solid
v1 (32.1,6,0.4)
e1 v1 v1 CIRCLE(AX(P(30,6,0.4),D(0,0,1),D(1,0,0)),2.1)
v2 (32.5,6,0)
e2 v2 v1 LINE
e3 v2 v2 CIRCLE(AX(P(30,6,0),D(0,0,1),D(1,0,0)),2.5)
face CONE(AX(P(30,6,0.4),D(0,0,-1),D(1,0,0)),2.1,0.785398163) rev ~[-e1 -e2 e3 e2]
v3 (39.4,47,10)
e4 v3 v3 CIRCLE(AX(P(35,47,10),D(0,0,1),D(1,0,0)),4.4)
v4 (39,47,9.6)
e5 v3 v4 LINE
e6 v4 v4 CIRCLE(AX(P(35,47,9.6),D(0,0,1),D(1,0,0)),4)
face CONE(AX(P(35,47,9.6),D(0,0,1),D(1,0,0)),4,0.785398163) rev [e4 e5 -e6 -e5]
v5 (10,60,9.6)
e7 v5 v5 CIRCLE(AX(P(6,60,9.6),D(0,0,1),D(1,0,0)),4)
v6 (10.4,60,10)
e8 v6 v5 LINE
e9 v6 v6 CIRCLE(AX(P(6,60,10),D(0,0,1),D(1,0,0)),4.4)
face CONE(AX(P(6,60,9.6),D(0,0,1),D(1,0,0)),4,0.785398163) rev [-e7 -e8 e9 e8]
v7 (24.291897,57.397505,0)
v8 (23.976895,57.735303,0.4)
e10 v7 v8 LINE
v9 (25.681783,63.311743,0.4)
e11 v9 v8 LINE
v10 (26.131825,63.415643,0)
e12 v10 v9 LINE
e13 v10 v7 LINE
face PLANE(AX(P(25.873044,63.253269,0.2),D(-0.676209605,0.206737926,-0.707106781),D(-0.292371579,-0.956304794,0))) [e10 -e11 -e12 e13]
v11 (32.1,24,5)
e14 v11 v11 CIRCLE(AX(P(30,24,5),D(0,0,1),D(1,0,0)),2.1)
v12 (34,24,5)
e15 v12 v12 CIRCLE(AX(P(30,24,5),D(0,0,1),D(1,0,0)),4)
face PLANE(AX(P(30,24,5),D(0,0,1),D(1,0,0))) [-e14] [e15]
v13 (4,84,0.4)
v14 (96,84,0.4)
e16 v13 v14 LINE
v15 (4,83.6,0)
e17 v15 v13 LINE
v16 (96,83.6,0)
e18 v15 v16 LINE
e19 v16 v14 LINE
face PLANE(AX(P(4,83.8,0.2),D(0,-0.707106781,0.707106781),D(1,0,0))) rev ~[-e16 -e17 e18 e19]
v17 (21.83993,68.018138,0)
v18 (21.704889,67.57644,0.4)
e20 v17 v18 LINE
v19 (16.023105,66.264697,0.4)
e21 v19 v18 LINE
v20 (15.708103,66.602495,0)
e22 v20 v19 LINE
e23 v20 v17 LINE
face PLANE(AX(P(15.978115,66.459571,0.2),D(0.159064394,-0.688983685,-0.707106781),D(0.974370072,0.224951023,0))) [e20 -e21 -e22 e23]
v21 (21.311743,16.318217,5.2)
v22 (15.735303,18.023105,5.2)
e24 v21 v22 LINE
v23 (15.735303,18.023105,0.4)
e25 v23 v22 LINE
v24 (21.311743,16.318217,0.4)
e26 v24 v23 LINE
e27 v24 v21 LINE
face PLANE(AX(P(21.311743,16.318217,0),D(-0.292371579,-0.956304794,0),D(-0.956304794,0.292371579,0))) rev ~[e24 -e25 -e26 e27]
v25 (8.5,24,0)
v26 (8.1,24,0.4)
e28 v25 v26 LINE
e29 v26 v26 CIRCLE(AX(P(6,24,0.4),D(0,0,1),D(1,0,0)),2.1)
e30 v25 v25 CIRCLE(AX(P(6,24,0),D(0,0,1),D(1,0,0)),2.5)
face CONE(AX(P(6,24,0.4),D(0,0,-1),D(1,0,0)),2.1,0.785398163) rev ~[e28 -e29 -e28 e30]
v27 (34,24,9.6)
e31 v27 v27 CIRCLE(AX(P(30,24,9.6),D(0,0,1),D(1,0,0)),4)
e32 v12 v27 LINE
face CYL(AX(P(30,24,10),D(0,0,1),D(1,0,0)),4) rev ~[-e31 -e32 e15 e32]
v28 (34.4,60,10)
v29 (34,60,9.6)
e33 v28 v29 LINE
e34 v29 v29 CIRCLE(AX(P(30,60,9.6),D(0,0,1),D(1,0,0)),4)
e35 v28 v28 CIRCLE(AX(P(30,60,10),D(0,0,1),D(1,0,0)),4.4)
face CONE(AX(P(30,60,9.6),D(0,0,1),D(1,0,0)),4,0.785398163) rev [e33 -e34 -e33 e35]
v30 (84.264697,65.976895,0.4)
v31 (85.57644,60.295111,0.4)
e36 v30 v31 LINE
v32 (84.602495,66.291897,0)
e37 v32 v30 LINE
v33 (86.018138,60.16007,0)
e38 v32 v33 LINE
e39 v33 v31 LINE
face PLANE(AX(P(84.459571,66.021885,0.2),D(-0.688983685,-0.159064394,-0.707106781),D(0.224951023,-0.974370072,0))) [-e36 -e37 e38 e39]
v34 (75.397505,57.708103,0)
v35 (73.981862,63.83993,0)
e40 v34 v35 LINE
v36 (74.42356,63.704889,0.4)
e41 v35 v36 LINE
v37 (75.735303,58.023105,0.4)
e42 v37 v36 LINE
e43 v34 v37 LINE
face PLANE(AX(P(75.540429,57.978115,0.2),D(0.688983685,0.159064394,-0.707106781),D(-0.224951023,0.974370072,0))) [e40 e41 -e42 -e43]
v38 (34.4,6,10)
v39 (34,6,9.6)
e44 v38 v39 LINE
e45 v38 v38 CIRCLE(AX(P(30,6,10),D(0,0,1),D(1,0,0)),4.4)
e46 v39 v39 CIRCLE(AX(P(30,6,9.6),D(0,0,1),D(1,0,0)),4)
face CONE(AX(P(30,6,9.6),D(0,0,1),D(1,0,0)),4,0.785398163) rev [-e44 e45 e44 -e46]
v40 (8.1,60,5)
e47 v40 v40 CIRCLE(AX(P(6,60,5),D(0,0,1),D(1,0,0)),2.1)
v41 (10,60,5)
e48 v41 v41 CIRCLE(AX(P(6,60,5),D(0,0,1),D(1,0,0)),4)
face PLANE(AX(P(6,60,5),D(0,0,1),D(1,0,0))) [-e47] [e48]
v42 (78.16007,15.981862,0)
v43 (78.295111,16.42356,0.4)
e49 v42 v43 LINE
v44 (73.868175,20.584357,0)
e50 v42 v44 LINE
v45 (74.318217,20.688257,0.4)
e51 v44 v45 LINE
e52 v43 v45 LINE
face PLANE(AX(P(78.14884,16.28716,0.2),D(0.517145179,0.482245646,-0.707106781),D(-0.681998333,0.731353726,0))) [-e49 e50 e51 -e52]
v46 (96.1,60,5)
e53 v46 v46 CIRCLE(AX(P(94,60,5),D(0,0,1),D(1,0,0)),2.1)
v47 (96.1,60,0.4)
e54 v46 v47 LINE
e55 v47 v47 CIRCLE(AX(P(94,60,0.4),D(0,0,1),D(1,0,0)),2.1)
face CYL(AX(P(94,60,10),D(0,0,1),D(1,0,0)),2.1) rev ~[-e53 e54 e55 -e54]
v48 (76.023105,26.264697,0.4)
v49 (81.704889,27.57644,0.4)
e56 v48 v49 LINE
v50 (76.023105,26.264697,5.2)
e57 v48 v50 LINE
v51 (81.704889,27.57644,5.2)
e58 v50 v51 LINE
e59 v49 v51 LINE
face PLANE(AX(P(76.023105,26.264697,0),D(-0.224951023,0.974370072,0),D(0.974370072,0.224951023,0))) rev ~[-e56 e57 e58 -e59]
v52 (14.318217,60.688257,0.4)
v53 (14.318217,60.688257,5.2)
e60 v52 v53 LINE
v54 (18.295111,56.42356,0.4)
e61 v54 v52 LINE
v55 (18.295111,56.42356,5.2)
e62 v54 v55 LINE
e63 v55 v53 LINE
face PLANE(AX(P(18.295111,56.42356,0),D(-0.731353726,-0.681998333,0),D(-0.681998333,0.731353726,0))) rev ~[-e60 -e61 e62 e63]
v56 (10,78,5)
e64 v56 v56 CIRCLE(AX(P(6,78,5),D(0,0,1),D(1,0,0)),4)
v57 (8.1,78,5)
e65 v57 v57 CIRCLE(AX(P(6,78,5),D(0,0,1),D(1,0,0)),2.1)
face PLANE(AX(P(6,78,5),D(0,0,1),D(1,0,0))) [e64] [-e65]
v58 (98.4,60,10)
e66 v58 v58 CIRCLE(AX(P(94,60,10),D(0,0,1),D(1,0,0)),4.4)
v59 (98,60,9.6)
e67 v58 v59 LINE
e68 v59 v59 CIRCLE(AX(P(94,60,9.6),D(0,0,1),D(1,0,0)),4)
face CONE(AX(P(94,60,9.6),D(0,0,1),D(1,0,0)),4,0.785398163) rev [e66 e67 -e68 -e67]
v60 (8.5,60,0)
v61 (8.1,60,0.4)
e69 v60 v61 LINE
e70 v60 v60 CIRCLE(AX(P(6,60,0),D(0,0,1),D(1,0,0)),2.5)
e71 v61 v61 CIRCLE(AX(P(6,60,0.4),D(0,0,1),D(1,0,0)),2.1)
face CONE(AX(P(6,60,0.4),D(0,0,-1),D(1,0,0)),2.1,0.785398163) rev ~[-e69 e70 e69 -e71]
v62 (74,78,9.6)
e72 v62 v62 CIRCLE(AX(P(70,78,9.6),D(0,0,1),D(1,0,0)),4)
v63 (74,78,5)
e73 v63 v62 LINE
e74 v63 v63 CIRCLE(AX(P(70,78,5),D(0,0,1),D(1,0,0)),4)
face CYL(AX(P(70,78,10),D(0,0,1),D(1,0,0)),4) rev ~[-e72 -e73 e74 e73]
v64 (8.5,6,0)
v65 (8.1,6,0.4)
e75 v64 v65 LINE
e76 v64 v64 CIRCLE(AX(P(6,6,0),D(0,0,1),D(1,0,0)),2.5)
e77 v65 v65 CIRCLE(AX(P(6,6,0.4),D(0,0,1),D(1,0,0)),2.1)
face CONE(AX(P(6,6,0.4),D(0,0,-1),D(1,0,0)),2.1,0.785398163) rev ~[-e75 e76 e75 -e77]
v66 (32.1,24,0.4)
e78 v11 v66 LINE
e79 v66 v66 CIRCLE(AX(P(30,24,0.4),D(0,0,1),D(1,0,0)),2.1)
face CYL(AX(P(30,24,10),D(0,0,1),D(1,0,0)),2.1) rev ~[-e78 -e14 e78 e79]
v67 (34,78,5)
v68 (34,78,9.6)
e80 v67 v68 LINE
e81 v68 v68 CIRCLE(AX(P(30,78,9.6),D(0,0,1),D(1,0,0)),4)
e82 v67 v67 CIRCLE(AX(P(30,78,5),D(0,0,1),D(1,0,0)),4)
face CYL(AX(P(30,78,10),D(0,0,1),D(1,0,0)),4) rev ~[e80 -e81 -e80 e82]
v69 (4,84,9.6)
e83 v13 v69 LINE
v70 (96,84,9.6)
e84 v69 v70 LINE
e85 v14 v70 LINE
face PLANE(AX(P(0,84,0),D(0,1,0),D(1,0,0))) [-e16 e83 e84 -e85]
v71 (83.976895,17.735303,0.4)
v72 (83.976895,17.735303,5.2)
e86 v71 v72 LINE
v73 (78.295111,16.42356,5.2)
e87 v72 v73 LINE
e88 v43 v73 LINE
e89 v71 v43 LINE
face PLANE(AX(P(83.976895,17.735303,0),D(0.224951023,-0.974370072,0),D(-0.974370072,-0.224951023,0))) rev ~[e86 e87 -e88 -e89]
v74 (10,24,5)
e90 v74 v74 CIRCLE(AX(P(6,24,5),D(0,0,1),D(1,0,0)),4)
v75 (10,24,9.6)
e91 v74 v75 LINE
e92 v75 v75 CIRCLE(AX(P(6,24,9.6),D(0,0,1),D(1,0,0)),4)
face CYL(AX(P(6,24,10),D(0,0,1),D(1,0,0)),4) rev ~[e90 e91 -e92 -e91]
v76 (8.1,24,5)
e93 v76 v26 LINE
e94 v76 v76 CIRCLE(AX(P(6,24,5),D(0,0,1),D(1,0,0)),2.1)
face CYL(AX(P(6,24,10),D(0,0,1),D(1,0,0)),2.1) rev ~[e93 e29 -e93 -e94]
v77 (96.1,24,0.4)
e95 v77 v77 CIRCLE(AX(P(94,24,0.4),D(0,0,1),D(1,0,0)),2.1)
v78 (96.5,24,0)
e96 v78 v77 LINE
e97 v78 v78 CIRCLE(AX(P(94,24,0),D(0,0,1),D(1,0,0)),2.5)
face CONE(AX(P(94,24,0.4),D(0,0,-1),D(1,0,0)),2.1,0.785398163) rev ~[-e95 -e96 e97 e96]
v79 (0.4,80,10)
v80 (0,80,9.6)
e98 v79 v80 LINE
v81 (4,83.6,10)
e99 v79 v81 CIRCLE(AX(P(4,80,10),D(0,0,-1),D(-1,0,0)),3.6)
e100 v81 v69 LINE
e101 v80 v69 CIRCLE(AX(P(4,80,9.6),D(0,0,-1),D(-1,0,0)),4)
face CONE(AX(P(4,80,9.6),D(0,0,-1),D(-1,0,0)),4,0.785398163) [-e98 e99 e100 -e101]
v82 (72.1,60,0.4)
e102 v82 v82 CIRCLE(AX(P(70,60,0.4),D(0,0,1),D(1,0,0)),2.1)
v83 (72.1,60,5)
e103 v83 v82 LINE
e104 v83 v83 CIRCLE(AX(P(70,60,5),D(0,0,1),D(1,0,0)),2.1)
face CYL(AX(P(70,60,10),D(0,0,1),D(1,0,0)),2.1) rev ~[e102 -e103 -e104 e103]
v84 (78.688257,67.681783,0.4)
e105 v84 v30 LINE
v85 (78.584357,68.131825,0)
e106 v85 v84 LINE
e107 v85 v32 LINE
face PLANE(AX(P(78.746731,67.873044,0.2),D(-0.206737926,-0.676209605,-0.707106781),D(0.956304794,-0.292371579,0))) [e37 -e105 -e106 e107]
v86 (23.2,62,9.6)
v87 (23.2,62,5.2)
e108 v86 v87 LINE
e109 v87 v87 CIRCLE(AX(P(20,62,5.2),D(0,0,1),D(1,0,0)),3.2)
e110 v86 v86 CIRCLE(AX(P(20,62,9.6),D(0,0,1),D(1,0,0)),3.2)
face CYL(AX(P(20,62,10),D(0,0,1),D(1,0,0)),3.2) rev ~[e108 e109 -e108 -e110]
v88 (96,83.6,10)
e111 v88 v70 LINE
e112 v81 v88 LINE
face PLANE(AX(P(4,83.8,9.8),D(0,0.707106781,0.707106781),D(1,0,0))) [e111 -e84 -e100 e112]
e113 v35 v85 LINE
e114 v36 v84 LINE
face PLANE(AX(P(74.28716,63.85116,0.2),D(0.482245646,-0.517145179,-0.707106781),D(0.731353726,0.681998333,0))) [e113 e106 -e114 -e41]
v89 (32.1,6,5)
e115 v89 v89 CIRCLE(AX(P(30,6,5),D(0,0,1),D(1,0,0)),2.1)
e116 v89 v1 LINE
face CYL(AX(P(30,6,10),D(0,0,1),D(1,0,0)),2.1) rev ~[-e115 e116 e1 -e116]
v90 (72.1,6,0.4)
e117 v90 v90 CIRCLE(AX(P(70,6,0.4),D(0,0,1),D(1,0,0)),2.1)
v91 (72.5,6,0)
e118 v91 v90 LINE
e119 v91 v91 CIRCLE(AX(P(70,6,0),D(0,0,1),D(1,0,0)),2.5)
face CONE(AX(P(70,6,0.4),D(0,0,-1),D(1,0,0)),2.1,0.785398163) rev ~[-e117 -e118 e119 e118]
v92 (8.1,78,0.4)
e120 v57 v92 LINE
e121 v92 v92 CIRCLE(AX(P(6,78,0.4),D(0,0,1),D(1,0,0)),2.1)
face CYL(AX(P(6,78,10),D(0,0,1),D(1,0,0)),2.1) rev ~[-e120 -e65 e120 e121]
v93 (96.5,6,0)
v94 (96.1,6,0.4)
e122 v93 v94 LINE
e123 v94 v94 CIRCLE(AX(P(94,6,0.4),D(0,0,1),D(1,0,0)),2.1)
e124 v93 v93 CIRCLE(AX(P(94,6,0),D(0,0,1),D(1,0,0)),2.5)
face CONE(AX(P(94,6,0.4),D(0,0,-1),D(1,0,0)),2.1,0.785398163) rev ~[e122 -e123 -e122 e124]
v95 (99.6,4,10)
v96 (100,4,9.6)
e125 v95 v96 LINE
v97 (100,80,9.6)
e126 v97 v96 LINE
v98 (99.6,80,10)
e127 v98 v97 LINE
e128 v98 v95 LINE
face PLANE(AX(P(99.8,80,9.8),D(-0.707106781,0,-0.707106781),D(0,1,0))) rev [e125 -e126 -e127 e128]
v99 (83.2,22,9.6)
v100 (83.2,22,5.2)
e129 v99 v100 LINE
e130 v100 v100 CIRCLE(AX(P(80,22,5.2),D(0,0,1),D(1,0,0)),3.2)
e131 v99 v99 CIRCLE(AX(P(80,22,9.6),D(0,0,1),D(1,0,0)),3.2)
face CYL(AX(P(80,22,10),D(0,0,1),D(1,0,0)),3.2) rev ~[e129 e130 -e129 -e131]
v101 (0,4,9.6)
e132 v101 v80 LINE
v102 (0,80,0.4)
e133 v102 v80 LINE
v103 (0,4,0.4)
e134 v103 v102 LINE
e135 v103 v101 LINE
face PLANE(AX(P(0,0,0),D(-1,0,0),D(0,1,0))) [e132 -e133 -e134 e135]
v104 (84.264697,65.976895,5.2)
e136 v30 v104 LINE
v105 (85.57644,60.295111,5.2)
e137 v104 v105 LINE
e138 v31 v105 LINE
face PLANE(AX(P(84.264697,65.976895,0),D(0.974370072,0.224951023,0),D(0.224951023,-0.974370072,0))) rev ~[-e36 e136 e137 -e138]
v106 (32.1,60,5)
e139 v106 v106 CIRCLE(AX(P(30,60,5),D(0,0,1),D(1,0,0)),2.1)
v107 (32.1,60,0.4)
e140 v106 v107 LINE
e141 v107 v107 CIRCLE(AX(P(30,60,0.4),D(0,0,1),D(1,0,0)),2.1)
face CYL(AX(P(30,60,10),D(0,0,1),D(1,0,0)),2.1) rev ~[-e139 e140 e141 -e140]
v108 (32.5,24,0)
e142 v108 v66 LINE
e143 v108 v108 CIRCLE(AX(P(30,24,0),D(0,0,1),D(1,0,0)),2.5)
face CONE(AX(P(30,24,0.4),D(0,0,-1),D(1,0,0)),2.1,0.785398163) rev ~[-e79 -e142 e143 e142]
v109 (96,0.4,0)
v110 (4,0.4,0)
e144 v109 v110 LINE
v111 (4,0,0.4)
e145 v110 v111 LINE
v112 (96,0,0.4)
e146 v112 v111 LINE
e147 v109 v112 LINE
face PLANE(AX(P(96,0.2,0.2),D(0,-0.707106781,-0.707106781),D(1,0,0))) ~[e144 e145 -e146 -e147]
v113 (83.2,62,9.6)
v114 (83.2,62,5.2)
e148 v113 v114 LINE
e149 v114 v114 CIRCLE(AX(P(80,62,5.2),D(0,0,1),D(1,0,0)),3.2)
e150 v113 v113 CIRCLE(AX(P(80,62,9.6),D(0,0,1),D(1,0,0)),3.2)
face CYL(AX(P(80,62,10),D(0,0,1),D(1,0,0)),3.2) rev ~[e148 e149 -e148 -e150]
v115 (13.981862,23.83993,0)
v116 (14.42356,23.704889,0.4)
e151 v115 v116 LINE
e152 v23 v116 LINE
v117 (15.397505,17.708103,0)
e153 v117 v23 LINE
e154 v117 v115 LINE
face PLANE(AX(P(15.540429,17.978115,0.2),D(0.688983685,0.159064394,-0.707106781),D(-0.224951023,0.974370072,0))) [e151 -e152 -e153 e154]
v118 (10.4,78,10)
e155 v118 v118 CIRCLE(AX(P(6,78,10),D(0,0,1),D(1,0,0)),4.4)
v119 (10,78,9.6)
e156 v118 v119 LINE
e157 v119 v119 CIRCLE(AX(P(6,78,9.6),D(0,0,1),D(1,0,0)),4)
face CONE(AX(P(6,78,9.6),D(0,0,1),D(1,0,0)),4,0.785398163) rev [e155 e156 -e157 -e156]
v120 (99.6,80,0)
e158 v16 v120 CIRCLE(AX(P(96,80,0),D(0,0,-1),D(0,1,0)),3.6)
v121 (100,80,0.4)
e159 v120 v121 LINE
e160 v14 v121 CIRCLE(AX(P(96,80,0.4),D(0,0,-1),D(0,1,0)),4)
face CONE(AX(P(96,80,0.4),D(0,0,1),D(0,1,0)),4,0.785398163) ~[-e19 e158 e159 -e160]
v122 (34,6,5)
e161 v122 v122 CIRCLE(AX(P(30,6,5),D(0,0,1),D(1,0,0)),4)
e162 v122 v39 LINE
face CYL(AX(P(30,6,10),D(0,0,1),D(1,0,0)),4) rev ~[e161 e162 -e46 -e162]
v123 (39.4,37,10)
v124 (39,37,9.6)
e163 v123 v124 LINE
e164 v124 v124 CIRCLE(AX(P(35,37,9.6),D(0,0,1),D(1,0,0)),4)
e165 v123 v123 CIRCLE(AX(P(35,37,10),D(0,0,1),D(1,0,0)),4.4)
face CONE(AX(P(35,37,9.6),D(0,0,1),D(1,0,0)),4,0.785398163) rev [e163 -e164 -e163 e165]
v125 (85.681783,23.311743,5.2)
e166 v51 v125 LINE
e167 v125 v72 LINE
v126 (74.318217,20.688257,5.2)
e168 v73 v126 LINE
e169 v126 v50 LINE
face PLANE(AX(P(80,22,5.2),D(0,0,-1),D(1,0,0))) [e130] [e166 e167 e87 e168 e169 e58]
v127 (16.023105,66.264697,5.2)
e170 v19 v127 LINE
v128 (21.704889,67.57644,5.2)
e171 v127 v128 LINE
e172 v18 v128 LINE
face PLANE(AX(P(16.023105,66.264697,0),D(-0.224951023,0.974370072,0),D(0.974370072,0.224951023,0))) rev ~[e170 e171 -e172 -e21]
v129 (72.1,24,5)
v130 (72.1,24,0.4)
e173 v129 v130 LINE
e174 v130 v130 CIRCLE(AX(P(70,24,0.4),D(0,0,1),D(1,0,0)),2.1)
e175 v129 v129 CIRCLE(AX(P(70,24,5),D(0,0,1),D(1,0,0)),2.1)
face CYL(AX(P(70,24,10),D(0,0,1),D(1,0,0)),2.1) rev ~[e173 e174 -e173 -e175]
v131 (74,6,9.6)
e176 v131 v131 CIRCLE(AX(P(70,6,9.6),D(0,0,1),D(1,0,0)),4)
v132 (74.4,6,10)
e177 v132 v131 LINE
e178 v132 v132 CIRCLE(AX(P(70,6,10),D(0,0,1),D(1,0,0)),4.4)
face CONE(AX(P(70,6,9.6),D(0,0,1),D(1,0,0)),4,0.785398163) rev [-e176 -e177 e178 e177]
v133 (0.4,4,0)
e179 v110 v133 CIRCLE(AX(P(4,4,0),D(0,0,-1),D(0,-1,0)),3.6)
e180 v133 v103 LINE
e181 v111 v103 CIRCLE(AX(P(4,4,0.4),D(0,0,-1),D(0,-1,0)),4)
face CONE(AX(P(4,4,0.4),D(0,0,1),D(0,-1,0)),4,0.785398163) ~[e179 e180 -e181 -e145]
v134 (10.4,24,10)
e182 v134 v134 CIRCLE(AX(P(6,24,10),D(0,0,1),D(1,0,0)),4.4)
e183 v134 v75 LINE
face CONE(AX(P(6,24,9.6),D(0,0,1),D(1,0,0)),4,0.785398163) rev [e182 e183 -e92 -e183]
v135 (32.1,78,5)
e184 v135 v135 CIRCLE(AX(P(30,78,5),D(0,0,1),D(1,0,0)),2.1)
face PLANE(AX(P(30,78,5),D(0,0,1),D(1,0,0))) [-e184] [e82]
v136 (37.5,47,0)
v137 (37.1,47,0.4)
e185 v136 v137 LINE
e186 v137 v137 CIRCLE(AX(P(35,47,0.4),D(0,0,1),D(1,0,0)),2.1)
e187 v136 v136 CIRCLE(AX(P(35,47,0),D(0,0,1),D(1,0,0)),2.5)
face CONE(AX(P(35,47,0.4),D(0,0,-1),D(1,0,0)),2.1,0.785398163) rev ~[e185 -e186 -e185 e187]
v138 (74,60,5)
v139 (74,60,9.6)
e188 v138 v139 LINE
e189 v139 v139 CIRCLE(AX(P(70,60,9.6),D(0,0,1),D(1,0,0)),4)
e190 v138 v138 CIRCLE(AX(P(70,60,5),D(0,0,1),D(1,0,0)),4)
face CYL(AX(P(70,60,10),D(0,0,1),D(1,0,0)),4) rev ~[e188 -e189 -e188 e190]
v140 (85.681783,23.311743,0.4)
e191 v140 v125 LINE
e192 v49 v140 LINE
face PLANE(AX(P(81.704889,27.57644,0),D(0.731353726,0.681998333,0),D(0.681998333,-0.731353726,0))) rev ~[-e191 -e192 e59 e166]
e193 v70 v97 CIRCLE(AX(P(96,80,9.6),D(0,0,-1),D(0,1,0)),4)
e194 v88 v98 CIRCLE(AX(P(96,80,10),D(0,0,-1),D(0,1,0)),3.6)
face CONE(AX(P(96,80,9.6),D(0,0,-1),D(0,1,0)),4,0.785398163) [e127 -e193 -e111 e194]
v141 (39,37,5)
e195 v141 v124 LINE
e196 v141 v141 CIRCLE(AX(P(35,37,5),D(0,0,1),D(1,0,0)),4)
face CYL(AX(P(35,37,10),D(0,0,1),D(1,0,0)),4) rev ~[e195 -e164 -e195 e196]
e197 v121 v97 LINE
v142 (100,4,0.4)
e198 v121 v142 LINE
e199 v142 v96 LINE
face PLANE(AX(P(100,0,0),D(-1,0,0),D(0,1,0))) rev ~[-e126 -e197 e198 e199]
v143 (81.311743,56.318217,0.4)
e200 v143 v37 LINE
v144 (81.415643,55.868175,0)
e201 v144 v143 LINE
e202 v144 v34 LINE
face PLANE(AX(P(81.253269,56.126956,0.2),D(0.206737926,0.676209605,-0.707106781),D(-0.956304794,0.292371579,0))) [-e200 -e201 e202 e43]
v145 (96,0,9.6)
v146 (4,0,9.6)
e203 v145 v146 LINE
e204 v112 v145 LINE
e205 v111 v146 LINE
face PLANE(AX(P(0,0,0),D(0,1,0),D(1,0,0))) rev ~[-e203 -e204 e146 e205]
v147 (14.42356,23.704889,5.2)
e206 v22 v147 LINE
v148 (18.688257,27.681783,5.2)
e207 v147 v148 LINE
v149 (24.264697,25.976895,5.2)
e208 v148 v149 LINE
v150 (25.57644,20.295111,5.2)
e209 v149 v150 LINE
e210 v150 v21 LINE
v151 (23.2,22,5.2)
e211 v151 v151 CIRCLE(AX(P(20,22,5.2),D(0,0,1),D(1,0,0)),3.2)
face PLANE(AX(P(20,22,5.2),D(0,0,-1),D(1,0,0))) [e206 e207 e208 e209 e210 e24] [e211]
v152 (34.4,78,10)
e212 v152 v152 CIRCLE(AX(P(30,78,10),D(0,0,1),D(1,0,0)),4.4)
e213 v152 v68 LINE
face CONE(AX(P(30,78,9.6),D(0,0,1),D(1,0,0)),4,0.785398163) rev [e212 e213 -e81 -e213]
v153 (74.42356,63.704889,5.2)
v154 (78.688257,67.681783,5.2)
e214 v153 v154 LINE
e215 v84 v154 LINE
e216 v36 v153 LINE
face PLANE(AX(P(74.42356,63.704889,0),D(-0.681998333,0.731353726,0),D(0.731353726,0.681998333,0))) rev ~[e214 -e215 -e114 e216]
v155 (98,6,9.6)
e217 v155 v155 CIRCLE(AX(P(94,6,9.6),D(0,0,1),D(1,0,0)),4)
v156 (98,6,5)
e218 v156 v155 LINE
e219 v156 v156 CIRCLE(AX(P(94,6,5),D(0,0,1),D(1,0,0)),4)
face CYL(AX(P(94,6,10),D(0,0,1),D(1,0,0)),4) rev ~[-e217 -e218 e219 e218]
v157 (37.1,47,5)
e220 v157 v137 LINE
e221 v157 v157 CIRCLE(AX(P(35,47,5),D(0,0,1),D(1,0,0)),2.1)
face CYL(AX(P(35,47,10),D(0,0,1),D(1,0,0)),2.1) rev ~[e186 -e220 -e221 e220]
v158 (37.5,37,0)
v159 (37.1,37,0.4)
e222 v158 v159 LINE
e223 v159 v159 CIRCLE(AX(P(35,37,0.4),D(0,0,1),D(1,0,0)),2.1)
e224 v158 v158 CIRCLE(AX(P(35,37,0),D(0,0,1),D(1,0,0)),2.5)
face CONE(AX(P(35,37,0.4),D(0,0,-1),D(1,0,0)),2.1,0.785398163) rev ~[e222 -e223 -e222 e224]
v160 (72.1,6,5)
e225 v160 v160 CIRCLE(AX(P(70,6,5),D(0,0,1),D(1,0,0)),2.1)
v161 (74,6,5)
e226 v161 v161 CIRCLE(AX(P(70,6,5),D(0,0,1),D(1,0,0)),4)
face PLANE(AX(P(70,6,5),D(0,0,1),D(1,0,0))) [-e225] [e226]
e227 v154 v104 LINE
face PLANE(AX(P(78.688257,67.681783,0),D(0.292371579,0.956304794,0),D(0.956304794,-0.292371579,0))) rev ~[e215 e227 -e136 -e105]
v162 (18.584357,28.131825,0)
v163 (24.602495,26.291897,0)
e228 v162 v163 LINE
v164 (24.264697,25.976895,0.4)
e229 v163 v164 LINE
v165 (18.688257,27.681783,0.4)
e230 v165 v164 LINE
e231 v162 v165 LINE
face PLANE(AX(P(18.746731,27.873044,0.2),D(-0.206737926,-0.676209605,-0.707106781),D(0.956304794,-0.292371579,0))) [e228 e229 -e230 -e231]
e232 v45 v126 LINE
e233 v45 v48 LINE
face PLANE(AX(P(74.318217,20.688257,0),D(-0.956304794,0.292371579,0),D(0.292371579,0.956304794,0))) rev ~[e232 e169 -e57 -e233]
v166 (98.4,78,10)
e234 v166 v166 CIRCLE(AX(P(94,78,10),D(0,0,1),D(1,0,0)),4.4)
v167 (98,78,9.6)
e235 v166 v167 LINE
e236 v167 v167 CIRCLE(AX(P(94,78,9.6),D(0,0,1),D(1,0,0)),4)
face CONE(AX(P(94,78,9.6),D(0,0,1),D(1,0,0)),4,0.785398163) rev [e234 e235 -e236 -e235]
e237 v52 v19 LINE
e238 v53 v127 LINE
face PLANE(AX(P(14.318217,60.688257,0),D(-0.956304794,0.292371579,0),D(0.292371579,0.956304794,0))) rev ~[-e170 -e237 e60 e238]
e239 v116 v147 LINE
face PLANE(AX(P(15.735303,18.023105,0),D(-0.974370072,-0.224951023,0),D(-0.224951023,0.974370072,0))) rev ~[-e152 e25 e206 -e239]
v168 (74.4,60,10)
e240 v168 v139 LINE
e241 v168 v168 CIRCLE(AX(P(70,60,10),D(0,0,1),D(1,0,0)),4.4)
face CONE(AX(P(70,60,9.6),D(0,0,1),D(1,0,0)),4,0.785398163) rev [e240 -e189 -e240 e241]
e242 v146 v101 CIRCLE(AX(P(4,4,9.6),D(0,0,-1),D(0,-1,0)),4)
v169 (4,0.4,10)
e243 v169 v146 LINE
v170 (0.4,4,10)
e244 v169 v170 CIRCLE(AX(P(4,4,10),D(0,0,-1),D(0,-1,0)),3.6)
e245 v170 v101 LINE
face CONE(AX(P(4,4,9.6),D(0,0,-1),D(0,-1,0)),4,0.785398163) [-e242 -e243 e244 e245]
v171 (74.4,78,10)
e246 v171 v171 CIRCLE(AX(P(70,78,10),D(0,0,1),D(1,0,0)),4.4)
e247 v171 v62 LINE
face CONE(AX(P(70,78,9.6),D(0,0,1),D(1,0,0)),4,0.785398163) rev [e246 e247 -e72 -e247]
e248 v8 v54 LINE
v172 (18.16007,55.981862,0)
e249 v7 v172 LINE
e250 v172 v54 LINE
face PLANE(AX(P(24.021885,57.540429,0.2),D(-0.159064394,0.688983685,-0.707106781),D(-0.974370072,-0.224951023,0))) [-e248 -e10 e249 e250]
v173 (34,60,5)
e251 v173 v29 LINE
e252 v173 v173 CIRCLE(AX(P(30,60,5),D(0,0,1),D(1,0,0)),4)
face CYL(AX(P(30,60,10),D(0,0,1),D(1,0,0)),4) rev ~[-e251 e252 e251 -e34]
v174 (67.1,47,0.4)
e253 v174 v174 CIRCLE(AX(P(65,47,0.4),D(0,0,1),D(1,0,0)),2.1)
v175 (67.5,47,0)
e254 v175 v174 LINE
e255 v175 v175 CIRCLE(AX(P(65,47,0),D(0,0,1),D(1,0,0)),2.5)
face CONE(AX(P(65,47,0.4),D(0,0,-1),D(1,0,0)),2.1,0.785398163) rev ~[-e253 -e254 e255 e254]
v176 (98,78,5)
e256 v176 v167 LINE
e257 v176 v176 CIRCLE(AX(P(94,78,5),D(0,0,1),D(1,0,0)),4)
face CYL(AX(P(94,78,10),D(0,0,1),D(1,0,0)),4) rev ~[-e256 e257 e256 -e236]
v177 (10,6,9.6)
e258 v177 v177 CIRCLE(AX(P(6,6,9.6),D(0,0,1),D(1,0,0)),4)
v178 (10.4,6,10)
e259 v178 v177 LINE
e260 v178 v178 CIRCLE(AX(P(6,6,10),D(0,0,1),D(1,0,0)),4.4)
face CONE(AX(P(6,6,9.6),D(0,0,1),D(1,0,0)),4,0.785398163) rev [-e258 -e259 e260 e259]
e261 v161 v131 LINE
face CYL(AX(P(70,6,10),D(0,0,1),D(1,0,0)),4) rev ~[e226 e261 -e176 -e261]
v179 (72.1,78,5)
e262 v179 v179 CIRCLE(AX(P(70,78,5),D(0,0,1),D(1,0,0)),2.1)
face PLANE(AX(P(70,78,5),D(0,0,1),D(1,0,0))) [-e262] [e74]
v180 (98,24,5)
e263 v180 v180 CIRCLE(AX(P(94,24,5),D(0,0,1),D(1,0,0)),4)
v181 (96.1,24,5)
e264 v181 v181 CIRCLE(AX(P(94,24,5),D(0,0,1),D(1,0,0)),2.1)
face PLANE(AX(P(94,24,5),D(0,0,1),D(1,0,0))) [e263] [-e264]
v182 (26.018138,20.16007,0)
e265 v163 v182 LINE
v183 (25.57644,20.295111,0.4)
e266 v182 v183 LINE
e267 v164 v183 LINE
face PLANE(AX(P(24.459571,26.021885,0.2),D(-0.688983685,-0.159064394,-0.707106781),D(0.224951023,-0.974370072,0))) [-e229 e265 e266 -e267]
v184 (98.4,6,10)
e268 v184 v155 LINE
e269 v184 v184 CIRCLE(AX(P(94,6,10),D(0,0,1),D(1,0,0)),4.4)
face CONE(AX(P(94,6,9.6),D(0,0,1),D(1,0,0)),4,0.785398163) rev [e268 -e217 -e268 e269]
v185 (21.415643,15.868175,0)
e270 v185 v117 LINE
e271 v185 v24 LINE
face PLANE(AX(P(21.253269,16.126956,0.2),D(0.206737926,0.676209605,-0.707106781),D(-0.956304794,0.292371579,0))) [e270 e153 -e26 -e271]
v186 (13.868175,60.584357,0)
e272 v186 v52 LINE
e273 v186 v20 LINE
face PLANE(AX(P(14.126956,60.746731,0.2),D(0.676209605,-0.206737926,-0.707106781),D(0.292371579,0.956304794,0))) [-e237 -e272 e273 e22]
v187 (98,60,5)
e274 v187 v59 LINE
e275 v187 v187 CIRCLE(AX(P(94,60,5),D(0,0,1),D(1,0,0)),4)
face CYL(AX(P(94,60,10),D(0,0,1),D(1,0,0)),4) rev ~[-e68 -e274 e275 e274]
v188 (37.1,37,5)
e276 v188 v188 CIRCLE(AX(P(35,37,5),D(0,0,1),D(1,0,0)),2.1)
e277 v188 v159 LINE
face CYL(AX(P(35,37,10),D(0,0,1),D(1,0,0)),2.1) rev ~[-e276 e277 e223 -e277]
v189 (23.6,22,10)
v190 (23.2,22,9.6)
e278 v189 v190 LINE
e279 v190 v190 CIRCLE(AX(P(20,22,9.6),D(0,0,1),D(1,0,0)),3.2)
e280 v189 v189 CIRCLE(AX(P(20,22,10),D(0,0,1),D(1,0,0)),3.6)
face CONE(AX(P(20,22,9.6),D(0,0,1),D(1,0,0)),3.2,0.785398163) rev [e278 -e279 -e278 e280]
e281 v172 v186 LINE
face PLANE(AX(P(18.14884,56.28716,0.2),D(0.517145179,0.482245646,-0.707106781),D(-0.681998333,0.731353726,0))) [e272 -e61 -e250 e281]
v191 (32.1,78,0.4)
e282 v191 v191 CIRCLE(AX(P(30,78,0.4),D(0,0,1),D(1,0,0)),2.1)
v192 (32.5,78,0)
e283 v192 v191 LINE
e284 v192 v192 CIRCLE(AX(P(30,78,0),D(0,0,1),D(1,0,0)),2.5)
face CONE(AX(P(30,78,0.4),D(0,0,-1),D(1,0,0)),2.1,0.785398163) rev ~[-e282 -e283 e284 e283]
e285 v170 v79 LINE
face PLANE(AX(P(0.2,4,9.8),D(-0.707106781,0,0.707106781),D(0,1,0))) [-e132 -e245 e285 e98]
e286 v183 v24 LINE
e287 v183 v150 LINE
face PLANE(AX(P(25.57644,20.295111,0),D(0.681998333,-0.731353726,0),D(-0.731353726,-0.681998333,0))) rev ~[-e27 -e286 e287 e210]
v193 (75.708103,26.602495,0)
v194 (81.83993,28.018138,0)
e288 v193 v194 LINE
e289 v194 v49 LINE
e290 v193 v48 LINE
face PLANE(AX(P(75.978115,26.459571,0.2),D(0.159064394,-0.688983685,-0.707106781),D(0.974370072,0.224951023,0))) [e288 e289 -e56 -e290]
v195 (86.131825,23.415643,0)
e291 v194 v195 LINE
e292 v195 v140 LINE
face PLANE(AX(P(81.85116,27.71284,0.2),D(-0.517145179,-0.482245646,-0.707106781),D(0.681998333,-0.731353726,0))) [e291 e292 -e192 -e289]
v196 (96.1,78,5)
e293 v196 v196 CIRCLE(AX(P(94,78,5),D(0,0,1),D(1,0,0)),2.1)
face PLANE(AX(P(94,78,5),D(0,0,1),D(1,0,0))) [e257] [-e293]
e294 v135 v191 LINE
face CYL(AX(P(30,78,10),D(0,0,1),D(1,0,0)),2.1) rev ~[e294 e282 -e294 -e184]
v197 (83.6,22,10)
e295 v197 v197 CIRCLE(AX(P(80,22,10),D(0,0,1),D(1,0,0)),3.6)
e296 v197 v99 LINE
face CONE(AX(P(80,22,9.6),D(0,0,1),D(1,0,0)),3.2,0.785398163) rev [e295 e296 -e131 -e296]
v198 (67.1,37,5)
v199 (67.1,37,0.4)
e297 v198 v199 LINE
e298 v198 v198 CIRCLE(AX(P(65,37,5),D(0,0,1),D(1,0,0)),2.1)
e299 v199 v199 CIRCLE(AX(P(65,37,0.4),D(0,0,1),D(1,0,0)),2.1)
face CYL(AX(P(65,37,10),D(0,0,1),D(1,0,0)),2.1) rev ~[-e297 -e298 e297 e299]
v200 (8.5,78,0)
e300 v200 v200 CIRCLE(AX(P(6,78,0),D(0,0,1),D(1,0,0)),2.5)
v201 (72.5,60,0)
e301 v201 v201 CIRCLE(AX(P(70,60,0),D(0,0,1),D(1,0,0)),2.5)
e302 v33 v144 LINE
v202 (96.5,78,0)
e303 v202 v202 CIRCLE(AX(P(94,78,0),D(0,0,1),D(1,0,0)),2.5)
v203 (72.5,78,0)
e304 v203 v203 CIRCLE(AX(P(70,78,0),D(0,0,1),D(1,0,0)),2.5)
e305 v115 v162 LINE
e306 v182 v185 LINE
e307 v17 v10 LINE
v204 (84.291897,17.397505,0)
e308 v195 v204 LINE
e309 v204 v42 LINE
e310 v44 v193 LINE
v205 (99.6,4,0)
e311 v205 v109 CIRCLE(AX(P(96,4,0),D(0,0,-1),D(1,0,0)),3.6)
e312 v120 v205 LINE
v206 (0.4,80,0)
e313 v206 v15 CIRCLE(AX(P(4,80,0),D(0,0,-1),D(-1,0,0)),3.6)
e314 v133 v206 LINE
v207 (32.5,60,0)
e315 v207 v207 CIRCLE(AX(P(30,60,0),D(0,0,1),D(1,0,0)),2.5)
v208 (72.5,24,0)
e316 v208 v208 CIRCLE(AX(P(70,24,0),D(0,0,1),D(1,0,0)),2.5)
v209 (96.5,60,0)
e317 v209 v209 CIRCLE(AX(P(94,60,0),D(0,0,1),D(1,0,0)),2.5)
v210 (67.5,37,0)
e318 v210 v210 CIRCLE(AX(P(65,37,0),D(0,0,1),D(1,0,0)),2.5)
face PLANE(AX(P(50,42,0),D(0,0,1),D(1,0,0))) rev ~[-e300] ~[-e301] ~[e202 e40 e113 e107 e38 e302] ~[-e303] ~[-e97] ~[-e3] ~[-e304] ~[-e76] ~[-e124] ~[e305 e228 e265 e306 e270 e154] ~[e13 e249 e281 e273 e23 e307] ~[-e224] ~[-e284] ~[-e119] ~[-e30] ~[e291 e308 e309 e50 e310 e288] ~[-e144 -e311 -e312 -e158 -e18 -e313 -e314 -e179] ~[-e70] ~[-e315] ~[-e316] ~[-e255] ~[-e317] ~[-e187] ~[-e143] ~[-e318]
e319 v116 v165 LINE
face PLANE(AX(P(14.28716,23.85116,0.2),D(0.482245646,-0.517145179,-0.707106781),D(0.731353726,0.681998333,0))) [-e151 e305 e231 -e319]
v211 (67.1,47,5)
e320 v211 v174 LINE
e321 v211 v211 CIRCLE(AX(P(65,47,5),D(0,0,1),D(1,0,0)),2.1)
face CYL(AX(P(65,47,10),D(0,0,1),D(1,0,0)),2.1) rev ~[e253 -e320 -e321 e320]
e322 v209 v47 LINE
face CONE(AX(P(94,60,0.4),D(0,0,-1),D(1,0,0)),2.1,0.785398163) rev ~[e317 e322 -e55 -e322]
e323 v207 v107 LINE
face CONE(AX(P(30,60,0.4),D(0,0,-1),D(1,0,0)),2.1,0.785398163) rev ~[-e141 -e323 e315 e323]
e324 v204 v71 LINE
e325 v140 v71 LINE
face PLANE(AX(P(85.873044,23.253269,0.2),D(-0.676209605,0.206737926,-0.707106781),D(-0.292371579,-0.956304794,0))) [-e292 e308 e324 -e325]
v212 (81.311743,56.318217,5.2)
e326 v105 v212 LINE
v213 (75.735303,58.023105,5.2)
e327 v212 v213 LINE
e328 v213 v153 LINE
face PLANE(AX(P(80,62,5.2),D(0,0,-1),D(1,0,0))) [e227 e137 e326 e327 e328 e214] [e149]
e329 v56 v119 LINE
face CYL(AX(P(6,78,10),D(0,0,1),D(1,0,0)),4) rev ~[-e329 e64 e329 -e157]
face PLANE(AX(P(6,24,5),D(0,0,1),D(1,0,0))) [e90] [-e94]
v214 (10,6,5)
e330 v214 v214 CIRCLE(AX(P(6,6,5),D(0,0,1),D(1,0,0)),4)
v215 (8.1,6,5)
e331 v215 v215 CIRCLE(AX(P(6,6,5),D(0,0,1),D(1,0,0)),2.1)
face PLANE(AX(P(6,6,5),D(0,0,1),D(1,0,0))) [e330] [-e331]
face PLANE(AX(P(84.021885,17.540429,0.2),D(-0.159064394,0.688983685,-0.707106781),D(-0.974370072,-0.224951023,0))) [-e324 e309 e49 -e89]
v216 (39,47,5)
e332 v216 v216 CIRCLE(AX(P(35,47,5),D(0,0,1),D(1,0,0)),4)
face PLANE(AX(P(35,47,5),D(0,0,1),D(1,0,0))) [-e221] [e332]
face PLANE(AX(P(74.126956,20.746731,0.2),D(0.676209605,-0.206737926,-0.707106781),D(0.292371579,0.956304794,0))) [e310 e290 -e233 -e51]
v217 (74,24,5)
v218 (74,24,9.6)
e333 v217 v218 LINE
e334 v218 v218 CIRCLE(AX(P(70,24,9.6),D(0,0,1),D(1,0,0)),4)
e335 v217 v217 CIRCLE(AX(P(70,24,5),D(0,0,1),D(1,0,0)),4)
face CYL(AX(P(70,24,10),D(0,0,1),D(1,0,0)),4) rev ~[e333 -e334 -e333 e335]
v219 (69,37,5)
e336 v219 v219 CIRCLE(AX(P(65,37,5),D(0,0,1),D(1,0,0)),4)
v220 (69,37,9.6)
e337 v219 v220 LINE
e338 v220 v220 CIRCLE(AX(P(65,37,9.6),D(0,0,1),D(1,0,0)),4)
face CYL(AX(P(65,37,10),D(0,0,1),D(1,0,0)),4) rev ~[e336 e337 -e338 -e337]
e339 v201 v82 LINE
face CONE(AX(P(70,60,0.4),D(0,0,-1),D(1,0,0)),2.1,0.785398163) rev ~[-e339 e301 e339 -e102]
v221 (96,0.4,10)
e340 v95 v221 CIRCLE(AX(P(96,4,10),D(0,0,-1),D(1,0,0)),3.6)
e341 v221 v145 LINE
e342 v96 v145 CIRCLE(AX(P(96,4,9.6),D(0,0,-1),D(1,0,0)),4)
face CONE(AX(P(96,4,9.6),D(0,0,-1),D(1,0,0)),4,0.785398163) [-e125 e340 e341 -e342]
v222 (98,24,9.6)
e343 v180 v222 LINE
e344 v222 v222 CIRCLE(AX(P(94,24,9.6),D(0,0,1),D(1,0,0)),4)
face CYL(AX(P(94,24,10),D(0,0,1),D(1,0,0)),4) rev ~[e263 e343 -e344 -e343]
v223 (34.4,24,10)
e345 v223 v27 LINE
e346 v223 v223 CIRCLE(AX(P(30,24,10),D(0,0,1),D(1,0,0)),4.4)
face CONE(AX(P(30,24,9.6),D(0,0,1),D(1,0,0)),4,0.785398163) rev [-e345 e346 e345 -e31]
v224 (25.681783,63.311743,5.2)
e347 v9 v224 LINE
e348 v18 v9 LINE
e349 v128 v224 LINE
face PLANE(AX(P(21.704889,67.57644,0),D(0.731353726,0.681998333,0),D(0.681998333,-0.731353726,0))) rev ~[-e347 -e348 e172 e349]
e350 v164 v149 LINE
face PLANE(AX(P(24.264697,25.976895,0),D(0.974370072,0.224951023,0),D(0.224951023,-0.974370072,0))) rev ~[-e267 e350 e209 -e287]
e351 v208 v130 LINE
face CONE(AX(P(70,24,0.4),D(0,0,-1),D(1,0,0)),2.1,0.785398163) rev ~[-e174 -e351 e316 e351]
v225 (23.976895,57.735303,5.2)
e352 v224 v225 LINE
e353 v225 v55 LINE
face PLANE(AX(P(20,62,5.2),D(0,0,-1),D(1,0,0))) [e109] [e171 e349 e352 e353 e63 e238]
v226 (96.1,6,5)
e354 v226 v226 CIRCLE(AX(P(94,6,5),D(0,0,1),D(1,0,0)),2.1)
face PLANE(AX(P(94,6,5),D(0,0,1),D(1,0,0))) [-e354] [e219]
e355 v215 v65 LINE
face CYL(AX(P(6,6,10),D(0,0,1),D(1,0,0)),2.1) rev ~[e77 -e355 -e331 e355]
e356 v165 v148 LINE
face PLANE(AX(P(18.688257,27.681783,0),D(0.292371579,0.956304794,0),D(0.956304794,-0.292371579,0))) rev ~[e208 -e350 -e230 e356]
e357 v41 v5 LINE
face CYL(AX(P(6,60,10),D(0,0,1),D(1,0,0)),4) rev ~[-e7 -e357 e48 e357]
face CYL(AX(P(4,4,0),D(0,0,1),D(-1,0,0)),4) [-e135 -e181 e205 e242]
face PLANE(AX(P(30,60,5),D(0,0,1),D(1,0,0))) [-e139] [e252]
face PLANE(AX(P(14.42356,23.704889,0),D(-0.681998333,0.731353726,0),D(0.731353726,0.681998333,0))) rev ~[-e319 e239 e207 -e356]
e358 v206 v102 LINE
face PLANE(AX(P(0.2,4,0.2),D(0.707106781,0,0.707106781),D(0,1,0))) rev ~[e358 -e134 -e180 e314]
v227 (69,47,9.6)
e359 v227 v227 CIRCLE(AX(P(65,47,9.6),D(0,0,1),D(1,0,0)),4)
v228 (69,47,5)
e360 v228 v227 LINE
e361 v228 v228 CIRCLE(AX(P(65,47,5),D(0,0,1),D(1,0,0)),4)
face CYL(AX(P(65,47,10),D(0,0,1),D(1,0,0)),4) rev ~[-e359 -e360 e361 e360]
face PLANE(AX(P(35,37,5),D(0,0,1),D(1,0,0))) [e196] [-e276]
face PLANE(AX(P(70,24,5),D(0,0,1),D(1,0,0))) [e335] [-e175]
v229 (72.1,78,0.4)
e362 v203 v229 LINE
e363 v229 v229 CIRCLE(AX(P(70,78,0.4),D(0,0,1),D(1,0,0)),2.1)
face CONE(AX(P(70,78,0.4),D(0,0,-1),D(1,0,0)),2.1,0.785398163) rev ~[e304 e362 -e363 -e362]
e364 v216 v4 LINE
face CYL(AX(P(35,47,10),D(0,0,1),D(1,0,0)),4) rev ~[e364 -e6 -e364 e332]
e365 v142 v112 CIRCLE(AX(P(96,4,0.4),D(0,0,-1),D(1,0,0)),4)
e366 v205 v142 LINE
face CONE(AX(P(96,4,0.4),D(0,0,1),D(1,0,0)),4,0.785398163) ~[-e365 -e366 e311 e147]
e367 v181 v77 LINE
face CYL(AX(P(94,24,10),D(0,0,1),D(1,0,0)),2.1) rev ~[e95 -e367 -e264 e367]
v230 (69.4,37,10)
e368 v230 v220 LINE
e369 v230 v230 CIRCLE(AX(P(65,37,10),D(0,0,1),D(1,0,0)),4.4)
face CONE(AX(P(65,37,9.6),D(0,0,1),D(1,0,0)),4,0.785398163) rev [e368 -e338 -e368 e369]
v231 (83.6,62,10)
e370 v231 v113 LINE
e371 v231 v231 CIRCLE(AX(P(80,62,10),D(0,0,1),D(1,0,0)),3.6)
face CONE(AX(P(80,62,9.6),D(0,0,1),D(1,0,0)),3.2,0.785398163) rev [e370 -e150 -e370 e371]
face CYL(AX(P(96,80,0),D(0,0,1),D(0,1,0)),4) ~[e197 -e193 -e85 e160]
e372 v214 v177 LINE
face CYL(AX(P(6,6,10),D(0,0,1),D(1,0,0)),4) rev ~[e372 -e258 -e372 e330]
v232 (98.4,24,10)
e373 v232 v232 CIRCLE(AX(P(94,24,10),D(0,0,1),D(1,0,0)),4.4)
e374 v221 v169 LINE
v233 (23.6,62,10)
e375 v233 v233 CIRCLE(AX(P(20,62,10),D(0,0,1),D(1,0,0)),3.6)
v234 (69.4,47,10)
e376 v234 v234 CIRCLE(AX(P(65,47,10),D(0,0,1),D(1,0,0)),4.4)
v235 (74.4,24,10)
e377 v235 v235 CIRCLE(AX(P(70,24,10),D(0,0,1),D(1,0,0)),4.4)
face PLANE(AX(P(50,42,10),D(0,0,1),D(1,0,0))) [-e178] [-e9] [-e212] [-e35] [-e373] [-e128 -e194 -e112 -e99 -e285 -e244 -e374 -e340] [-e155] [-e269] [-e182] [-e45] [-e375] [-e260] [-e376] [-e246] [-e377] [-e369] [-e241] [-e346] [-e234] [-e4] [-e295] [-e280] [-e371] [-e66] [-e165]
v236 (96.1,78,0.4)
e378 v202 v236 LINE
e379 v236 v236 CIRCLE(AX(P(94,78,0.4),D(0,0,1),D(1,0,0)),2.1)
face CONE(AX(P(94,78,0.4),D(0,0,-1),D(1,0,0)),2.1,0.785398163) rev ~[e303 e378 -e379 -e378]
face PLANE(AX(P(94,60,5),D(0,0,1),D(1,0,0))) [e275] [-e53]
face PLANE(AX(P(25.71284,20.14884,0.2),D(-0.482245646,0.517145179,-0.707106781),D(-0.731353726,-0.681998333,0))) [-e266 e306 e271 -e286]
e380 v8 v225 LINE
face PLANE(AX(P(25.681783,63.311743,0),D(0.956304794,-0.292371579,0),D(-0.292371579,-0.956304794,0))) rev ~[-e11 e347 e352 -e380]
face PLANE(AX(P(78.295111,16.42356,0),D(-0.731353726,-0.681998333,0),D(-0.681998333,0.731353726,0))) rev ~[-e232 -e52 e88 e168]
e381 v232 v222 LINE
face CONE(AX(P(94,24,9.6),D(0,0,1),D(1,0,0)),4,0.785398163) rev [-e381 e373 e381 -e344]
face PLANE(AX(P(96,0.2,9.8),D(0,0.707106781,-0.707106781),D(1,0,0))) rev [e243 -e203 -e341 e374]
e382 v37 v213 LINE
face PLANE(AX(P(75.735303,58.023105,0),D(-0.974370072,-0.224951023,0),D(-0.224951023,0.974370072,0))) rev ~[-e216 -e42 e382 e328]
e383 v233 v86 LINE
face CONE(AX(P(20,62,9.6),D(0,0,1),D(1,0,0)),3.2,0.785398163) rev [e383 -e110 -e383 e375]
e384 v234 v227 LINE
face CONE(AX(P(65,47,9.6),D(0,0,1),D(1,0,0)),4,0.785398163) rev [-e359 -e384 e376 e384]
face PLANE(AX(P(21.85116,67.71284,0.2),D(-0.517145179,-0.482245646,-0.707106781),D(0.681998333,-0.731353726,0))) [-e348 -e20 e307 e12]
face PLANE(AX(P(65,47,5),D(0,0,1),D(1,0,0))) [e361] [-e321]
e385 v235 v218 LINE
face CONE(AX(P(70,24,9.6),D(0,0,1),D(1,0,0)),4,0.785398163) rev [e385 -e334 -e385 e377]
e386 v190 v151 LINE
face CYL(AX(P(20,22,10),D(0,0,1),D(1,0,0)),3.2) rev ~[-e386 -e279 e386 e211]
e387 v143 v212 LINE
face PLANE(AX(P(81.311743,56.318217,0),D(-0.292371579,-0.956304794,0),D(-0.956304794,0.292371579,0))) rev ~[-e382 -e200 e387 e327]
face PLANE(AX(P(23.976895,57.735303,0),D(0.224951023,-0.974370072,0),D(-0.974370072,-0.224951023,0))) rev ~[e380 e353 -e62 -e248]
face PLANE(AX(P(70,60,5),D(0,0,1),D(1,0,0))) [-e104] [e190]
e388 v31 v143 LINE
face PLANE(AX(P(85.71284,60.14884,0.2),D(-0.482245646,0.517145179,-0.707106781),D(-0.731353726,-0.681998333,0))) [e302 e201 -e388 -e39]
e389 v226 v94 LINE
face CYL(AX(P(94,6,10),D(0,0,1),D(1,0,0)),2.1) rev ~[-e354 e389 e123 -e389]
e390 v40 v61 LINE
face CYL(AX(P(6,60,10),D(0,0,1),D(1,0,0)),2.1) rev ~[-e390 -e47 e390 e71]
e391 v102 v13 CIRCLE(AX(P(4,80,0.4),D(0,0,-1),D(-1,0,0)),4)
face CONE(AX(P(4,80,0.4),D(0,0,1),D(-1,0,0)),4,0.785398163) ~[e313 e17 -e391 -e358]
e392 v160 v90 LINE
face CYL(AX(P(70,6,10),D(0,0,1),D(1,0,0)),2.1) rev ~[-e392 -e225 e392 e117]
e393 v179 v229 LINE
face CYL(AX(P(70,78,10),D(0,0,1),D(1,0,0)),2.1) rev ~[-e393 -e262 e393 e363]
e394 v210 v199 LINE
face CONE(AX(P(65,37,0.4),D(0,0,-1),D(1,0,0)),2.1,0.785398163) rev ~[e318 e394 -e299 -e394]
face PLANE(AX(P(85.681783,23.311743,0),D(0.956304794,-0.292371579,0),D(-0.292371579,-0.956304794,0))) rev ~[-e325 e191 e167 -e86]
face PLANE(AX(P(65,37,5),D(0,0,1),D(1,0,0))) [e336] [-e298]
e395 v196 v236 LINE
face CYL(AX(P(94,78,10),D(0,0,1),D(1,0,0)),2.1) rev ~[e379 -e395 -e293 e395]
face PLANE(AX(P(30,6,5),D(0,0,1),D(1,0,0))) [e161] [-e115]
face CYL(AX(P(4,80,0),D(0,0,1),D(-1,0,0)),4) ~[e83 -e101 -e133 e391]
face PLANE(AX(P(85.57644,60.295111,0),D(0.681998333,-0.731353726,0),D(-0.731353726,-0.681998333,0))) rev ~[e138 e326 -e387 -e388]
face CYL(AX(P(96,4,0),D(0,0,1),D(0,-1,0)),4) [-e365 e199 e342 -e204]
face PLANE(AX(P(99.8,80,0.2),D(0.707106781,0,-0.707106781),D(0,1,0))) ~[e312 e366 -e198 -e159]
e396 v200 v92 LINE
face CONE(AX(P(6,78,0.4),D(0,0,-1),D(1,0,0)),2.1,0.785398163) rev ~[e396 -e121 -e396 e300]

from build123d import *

# Parameters (mm, degrees)
SKETCH_W        = 100
SKETCH_H        = 84
PAD_DEPTH       = 10
SKETCH001_R     = 2.1
POCKET_DEPTH    = 10
SKETCH002_R     = 3.2
POCKET001_DEPTH = 10
SKETCH003_R     = 4
POCKET002_DEPTH = 5
POCKET003_DEPTH = 4
POCKET004_DEPTH = 5.2
FILLET_R        = 4
CHAMFER_SIZE    = 0.4
CHAMFER001_SIZE = 0.4


with BuildPart() as part:
    # Sketch → Pad (new body)
    with BuildSketch(Plane.XY):
        with Locations((50, 42)):
            Rectangle(SKETCH_W, SKETCH_H)
    extrude(amount=PAD_DEPTH)

    # Sketch001 (on Face6 of Pad) → Pocket (cut)
    with BuildSketch(Plane.XY.offset(10)):
        with Locations((6, 78)):
            Circle(SKETCH001_R)
        with Locations((30, 78)):
            Circle(SKETCH001_R)
        with Locations((6, 60)):
            Circle(SKETCH001_R)
        with Locations((30, 60)):
            Circle(SKETCH001_R)
        with Locations((6, 24)):
            Circle(SKETCH001_R)
        with Locations((30, 24)):
            Circle(SKETCH001_R)
        with Locations((6, 6)):
            Circle(SKETCH001_R)
        with Locations((30, 6)):
            Circle(SKETCH001_R)
        with Locations((70, 78)):
            Circle(SKETCH001_R)
        with Locations((94, 78)):
            Circle(SKETCH001_R)
        with Locations((70, 60)):
            Circle(SKETCH001_R)
        with Locations((94, 60)):
            Circle(SKETCH001_R)
        with Locations((70, 24)):
            Circle(SKETCH001_R)
        with Locations((94, 24)):
            Circle(SKETCH001_R)
        with Locations((70, 6)):
            Circle(SKETCH001_R)
        with Locations((94, 6)):
            Circle(SKETCH001_R)
        with Locations((35, 47)):
            Circle(SKETCH001_R)
        with Locations((65, 47)):
            Circle(SKETCH001_R)
        with Locations((35, 37)):
            Circle(SKETCH001_R)
        with Locations((65, 37)):
            Circle(SKETCH001_R)
    extrude(amount=-POCKET_DEPTH, mode=Mode.SUBTRACT)

    # Sketch002 (on Face5 of Pocket) → Pocket001 (cut)
    with BuildSketch(Plane.XY.offset(10)):
        with Locations((20, 62)):
            Circle(SKETCH002_R)
        with Locations((20, 22)):
            Circle(SKETCH002_R)
        with Locations((80, 62)):
            Circle(SKETCH002_R)
        with Locations((80, 22)):
            Circle(SKETCH002_R)
    extrude(amount=-POCKET001_DEPTH, mode=Mode.SUBTRACT)

    # Sketch003 (on Face5 of Pocket001) → Pocket002 (cut)
    with BuildSketch(Plane.XY.offset(10)):
        with Locations((6, 78)):
            Circle(SKETCH003_R)
        with Locations((30, 78)):
            Circle(SKETCH003_R)
        with Locations((30, 60)):
            Circle(SKETCH003_R)
        with Locations((6, 60)):
            Circle(SKETCH003_R)
        with Locations((70, 78)):
            Circle(SKETCH003_R)
        with Locations((94, 78)):
            Circle(SKETCH003_R)
        with Locations((70, 60)):
            Circle(SKETCH003_R)
        with Locations((94, 60)):
            Circle(SKETCH003_R)
        with Locations((6, 24)):
            Circle(SKETCH003_R)
        with Locations((30, 24)):
            Circle(SKETCH003_R)
        with Locations((6, 6)):
            Circle(SKETCH003_R)
        with Locations((30, 6)):
            Circle(SKETCH003_R)
        with Locations((70, 24)):
            Circle(SKETCH003_R)
        with Locations((94, 24)):
            Circle(SKETCH003_R)
        with Locations((70, 6)):
            Circle(SKETCH003_R)
        with Locations((94, 6)):
            Circle(SKETCH003_R)
        with Locations((35, 47)):
            Circle(SKETCH003_R)
        with Locations((35, 37)):
            Circle(SKETCH003_R)
        with Locations((65, 37)):
            Circle(SKETCH003_R)
        with Locations((65, 47)):
            Circle(SKETCH003_R)
    extrude(amount=-POCKET002_DEPTH, mode=Mode.SUBTRACT)

    # Sketch003 (on Face5 of Pocket001) → Pocket003 (cut)
    with BuildSketch(Plane.XY.offset(10)):
        with Locations((6, 78)):
            Circle(SKETCH003_R)
        with Locations((30, 78)):
            Circle(SKETCH003_R)
        with Locations((30, 60)):
            Circle(SKETCH003_R)
        with Locations((6, 60)):
            Circle(SKETCH003_R)
        with Locations((70, 78)):
            Circle(SKETCH003_R)
        with Locations((94, 78)):
            Circle(SKETCH003_R)
        with Locations((70, 60)):
            Circle(SKETCH003_R)
        with Locations((94, 60)):
            Circle(SKETCH003_R)
        with Locations((6, 24)):
            Circle(SKETCH003_R)
        with Locations((30, 24)):
            Circle(SKETCH003_R)
        with Locations((6, 6)):
            Circle(SKETCH003_R)
        with Locations((30, 6)):
            Circle(SKETCH003_R)
        with Locations((70, 24)):
            Circle(SKETCH003_R)
        with Locations((94, 24)):
            Circle(SKETCH003_R)
        with Locations((70, 6)):
            Circle(SKETCH003_R)
        with Locations((94, 6)):
            Circle(SKETCH003_R)
        with Locations((35, 47)):
            Circle(SKETCH003_R)
        with Locations((35, 37)):
            Circle(SKETCH003_R)
        with Locations((65, 37)):
            Circle(SKETCH003_R)
        with Locations((65, 47)):
            Circle(SKETCH003_R)
    extrude(amount=-POCKET003_DEPTH, mode=Mode.SUBTRACT)

    # Sketch004 (on Face4 of Pocket003) → Pocket004 (cut)
    with BuildSketch(Plane(origin=(0, 0, 0), x_dir=(1, 0, 0), z_dir=(0, 0, -1))):
        Polygon((14.42356, -23.704889), (18.688257, -27.681783), (24.264697, -25.976895), (25.57644, -20.295111), (21.311743, -16.318217), (15.735303, -18.023105), align=None)
        Polygon((74.318217, -20.688257), (76.023105, -26.264697), (81.704889, -27.57644), (85.681783, -23.311743), (83.976895, -17.735303), (78.295111, -16.42356), align=None)
        Polygon((74.42356, -63.704889), (78.688257, -67.681783), (84.264697, -65.976895), (85.57644, -60.295111), (81.311743, -56.318217), (75.735303, -58.023105), align=None)
        Polygon((14.318217, -60.688257), (16.023105, -66.264697), (21.704889, -67.57644), (25.681783, -63.311743), (23.976895, -57.735303), (18.295111, -56.42356), align=None)
    extrude(amount=-POCKET004_DEPTH, mode=Mode.SUBTRACT)

    # Fillet
    fillet_edges = [part.edges().sort_by_distance(p)[0] for p in [
        (100, 0, 5),
        (100, 84, 5),
        (0, 0, 5),
        (0, 84, 5),
    ]]
    fillet(fillet_edges, radius=FILLET_R)

    # Chamfer
    chamfer_edges = [part.edges().sort_by_distance(p)[0] for p in [
        (50, 84, 10),
        (1.171573, 82.828427, 10),
        (98.828427, 82.828427, 10),
        (0, 42, 10),
        (100, 42, 10),
        (1.171573, 1.171573, 10),
        (98.828427, 1.171573, 10),
        (50, 0, 10),
        (90, 6, 10),
        (66, 6, 10),
        (90, 24, 10),
        (76.8, 22, 10),
        (66, 24, 10),
        (61, 37, 10),
        (26, 6, 10),
        (2, 6, 10),
        (26, 24, 10),
        (31, 37, 10),
        (16.8, 22, 10),
        (2, 24, 10),
        (90, 60, 10),
        (61, 47, 10),
        (66, 60, 10),
        (76.8, 62, 10),
        (90, 78, 10),
        (66, 78, 10),
        (31, 47, 10),
        (26, 60, 10),
        (2, 60, 10),
        (26, 78, 10),
        (16.8, 62, 10),
        (2, 78, 10),
    ]]
    chamfer(chamfer_edges, length=CHAMFER_SIZE)

    # Chamfer001
    chamfer001_edges = [part.edges().sort_by_distance(p)[0] for p in [
        (50, 84, 0),
        (1.171573, 82.828427, 0),
        (98.828427, 82.828427, 0),
        (0, 42, 0),
        (100, 42, 0),
        (1.171573, 1.171573, 0),
        (98.828427, 1.171573, 0),
        (50, 0, 0),
        (91.9, 6, 0),
        (75.170661, 23.476477, 0),
        (78.863997, 26.920569, 0),
        (83.693336, 25.444092, 0),
        (84.829339, 20.523523, 0),
        (81.136003, 17.079431, 0),
        (76.306664, 18.555908, 0),
        (67.9, 6, 0),
        (91.9, 24, 0),
        (67.9, 24, 0),
        (62.9, 37, 0),
        (27.9, 6, 0),
        (3.9, 6, 0),
        (16.555908, 25.693336, 0),
        (21.476477, 26.829339, 0),
        (24.920569, 23.136003, 0),
        (23.444092, 18.306664, 0),
        (18.523523, 17.170661, 0),
        (15.079431, 20.863997, 0),
        (27.9, 24, 0),
        (32.9, 37, 0),
        (3.9, 24, 0),
        (91.9, 60, 0),
        (62.9, 47, 0),
        (67.9, 60, 0),
        (76.555908, 65.693336, 0),
        (81.476477, 66.829339, 0),
        (84.920569, 63.136003, 0),
        (83.444092, 58.306664, 0),
        (78.523523, 57.170661, 0),
        (75.079431, 60.863997, 0),
        (91.9, 78, 0),
        (67.9, 78, 0),
        (32.9, 47, 0),
        (27.9, 60, 0),
        (3.9, 60, 0),
        (27.9, 78, 0),
        (15.170661, 63.476477, 0),
        (18.863997, 66.920569, 0),
        (23.693336, 65.444092, 0),
        (24.829339, 60.523523, 0),
        (21.136003, 57.079431, 0),
        (16.306664, 58.555908, 0),
        (3.9, 78, 0),
    ]]
    chamfer(chamfer001_edges, length=CHAMFER001_SIZE)


solid = part.part
